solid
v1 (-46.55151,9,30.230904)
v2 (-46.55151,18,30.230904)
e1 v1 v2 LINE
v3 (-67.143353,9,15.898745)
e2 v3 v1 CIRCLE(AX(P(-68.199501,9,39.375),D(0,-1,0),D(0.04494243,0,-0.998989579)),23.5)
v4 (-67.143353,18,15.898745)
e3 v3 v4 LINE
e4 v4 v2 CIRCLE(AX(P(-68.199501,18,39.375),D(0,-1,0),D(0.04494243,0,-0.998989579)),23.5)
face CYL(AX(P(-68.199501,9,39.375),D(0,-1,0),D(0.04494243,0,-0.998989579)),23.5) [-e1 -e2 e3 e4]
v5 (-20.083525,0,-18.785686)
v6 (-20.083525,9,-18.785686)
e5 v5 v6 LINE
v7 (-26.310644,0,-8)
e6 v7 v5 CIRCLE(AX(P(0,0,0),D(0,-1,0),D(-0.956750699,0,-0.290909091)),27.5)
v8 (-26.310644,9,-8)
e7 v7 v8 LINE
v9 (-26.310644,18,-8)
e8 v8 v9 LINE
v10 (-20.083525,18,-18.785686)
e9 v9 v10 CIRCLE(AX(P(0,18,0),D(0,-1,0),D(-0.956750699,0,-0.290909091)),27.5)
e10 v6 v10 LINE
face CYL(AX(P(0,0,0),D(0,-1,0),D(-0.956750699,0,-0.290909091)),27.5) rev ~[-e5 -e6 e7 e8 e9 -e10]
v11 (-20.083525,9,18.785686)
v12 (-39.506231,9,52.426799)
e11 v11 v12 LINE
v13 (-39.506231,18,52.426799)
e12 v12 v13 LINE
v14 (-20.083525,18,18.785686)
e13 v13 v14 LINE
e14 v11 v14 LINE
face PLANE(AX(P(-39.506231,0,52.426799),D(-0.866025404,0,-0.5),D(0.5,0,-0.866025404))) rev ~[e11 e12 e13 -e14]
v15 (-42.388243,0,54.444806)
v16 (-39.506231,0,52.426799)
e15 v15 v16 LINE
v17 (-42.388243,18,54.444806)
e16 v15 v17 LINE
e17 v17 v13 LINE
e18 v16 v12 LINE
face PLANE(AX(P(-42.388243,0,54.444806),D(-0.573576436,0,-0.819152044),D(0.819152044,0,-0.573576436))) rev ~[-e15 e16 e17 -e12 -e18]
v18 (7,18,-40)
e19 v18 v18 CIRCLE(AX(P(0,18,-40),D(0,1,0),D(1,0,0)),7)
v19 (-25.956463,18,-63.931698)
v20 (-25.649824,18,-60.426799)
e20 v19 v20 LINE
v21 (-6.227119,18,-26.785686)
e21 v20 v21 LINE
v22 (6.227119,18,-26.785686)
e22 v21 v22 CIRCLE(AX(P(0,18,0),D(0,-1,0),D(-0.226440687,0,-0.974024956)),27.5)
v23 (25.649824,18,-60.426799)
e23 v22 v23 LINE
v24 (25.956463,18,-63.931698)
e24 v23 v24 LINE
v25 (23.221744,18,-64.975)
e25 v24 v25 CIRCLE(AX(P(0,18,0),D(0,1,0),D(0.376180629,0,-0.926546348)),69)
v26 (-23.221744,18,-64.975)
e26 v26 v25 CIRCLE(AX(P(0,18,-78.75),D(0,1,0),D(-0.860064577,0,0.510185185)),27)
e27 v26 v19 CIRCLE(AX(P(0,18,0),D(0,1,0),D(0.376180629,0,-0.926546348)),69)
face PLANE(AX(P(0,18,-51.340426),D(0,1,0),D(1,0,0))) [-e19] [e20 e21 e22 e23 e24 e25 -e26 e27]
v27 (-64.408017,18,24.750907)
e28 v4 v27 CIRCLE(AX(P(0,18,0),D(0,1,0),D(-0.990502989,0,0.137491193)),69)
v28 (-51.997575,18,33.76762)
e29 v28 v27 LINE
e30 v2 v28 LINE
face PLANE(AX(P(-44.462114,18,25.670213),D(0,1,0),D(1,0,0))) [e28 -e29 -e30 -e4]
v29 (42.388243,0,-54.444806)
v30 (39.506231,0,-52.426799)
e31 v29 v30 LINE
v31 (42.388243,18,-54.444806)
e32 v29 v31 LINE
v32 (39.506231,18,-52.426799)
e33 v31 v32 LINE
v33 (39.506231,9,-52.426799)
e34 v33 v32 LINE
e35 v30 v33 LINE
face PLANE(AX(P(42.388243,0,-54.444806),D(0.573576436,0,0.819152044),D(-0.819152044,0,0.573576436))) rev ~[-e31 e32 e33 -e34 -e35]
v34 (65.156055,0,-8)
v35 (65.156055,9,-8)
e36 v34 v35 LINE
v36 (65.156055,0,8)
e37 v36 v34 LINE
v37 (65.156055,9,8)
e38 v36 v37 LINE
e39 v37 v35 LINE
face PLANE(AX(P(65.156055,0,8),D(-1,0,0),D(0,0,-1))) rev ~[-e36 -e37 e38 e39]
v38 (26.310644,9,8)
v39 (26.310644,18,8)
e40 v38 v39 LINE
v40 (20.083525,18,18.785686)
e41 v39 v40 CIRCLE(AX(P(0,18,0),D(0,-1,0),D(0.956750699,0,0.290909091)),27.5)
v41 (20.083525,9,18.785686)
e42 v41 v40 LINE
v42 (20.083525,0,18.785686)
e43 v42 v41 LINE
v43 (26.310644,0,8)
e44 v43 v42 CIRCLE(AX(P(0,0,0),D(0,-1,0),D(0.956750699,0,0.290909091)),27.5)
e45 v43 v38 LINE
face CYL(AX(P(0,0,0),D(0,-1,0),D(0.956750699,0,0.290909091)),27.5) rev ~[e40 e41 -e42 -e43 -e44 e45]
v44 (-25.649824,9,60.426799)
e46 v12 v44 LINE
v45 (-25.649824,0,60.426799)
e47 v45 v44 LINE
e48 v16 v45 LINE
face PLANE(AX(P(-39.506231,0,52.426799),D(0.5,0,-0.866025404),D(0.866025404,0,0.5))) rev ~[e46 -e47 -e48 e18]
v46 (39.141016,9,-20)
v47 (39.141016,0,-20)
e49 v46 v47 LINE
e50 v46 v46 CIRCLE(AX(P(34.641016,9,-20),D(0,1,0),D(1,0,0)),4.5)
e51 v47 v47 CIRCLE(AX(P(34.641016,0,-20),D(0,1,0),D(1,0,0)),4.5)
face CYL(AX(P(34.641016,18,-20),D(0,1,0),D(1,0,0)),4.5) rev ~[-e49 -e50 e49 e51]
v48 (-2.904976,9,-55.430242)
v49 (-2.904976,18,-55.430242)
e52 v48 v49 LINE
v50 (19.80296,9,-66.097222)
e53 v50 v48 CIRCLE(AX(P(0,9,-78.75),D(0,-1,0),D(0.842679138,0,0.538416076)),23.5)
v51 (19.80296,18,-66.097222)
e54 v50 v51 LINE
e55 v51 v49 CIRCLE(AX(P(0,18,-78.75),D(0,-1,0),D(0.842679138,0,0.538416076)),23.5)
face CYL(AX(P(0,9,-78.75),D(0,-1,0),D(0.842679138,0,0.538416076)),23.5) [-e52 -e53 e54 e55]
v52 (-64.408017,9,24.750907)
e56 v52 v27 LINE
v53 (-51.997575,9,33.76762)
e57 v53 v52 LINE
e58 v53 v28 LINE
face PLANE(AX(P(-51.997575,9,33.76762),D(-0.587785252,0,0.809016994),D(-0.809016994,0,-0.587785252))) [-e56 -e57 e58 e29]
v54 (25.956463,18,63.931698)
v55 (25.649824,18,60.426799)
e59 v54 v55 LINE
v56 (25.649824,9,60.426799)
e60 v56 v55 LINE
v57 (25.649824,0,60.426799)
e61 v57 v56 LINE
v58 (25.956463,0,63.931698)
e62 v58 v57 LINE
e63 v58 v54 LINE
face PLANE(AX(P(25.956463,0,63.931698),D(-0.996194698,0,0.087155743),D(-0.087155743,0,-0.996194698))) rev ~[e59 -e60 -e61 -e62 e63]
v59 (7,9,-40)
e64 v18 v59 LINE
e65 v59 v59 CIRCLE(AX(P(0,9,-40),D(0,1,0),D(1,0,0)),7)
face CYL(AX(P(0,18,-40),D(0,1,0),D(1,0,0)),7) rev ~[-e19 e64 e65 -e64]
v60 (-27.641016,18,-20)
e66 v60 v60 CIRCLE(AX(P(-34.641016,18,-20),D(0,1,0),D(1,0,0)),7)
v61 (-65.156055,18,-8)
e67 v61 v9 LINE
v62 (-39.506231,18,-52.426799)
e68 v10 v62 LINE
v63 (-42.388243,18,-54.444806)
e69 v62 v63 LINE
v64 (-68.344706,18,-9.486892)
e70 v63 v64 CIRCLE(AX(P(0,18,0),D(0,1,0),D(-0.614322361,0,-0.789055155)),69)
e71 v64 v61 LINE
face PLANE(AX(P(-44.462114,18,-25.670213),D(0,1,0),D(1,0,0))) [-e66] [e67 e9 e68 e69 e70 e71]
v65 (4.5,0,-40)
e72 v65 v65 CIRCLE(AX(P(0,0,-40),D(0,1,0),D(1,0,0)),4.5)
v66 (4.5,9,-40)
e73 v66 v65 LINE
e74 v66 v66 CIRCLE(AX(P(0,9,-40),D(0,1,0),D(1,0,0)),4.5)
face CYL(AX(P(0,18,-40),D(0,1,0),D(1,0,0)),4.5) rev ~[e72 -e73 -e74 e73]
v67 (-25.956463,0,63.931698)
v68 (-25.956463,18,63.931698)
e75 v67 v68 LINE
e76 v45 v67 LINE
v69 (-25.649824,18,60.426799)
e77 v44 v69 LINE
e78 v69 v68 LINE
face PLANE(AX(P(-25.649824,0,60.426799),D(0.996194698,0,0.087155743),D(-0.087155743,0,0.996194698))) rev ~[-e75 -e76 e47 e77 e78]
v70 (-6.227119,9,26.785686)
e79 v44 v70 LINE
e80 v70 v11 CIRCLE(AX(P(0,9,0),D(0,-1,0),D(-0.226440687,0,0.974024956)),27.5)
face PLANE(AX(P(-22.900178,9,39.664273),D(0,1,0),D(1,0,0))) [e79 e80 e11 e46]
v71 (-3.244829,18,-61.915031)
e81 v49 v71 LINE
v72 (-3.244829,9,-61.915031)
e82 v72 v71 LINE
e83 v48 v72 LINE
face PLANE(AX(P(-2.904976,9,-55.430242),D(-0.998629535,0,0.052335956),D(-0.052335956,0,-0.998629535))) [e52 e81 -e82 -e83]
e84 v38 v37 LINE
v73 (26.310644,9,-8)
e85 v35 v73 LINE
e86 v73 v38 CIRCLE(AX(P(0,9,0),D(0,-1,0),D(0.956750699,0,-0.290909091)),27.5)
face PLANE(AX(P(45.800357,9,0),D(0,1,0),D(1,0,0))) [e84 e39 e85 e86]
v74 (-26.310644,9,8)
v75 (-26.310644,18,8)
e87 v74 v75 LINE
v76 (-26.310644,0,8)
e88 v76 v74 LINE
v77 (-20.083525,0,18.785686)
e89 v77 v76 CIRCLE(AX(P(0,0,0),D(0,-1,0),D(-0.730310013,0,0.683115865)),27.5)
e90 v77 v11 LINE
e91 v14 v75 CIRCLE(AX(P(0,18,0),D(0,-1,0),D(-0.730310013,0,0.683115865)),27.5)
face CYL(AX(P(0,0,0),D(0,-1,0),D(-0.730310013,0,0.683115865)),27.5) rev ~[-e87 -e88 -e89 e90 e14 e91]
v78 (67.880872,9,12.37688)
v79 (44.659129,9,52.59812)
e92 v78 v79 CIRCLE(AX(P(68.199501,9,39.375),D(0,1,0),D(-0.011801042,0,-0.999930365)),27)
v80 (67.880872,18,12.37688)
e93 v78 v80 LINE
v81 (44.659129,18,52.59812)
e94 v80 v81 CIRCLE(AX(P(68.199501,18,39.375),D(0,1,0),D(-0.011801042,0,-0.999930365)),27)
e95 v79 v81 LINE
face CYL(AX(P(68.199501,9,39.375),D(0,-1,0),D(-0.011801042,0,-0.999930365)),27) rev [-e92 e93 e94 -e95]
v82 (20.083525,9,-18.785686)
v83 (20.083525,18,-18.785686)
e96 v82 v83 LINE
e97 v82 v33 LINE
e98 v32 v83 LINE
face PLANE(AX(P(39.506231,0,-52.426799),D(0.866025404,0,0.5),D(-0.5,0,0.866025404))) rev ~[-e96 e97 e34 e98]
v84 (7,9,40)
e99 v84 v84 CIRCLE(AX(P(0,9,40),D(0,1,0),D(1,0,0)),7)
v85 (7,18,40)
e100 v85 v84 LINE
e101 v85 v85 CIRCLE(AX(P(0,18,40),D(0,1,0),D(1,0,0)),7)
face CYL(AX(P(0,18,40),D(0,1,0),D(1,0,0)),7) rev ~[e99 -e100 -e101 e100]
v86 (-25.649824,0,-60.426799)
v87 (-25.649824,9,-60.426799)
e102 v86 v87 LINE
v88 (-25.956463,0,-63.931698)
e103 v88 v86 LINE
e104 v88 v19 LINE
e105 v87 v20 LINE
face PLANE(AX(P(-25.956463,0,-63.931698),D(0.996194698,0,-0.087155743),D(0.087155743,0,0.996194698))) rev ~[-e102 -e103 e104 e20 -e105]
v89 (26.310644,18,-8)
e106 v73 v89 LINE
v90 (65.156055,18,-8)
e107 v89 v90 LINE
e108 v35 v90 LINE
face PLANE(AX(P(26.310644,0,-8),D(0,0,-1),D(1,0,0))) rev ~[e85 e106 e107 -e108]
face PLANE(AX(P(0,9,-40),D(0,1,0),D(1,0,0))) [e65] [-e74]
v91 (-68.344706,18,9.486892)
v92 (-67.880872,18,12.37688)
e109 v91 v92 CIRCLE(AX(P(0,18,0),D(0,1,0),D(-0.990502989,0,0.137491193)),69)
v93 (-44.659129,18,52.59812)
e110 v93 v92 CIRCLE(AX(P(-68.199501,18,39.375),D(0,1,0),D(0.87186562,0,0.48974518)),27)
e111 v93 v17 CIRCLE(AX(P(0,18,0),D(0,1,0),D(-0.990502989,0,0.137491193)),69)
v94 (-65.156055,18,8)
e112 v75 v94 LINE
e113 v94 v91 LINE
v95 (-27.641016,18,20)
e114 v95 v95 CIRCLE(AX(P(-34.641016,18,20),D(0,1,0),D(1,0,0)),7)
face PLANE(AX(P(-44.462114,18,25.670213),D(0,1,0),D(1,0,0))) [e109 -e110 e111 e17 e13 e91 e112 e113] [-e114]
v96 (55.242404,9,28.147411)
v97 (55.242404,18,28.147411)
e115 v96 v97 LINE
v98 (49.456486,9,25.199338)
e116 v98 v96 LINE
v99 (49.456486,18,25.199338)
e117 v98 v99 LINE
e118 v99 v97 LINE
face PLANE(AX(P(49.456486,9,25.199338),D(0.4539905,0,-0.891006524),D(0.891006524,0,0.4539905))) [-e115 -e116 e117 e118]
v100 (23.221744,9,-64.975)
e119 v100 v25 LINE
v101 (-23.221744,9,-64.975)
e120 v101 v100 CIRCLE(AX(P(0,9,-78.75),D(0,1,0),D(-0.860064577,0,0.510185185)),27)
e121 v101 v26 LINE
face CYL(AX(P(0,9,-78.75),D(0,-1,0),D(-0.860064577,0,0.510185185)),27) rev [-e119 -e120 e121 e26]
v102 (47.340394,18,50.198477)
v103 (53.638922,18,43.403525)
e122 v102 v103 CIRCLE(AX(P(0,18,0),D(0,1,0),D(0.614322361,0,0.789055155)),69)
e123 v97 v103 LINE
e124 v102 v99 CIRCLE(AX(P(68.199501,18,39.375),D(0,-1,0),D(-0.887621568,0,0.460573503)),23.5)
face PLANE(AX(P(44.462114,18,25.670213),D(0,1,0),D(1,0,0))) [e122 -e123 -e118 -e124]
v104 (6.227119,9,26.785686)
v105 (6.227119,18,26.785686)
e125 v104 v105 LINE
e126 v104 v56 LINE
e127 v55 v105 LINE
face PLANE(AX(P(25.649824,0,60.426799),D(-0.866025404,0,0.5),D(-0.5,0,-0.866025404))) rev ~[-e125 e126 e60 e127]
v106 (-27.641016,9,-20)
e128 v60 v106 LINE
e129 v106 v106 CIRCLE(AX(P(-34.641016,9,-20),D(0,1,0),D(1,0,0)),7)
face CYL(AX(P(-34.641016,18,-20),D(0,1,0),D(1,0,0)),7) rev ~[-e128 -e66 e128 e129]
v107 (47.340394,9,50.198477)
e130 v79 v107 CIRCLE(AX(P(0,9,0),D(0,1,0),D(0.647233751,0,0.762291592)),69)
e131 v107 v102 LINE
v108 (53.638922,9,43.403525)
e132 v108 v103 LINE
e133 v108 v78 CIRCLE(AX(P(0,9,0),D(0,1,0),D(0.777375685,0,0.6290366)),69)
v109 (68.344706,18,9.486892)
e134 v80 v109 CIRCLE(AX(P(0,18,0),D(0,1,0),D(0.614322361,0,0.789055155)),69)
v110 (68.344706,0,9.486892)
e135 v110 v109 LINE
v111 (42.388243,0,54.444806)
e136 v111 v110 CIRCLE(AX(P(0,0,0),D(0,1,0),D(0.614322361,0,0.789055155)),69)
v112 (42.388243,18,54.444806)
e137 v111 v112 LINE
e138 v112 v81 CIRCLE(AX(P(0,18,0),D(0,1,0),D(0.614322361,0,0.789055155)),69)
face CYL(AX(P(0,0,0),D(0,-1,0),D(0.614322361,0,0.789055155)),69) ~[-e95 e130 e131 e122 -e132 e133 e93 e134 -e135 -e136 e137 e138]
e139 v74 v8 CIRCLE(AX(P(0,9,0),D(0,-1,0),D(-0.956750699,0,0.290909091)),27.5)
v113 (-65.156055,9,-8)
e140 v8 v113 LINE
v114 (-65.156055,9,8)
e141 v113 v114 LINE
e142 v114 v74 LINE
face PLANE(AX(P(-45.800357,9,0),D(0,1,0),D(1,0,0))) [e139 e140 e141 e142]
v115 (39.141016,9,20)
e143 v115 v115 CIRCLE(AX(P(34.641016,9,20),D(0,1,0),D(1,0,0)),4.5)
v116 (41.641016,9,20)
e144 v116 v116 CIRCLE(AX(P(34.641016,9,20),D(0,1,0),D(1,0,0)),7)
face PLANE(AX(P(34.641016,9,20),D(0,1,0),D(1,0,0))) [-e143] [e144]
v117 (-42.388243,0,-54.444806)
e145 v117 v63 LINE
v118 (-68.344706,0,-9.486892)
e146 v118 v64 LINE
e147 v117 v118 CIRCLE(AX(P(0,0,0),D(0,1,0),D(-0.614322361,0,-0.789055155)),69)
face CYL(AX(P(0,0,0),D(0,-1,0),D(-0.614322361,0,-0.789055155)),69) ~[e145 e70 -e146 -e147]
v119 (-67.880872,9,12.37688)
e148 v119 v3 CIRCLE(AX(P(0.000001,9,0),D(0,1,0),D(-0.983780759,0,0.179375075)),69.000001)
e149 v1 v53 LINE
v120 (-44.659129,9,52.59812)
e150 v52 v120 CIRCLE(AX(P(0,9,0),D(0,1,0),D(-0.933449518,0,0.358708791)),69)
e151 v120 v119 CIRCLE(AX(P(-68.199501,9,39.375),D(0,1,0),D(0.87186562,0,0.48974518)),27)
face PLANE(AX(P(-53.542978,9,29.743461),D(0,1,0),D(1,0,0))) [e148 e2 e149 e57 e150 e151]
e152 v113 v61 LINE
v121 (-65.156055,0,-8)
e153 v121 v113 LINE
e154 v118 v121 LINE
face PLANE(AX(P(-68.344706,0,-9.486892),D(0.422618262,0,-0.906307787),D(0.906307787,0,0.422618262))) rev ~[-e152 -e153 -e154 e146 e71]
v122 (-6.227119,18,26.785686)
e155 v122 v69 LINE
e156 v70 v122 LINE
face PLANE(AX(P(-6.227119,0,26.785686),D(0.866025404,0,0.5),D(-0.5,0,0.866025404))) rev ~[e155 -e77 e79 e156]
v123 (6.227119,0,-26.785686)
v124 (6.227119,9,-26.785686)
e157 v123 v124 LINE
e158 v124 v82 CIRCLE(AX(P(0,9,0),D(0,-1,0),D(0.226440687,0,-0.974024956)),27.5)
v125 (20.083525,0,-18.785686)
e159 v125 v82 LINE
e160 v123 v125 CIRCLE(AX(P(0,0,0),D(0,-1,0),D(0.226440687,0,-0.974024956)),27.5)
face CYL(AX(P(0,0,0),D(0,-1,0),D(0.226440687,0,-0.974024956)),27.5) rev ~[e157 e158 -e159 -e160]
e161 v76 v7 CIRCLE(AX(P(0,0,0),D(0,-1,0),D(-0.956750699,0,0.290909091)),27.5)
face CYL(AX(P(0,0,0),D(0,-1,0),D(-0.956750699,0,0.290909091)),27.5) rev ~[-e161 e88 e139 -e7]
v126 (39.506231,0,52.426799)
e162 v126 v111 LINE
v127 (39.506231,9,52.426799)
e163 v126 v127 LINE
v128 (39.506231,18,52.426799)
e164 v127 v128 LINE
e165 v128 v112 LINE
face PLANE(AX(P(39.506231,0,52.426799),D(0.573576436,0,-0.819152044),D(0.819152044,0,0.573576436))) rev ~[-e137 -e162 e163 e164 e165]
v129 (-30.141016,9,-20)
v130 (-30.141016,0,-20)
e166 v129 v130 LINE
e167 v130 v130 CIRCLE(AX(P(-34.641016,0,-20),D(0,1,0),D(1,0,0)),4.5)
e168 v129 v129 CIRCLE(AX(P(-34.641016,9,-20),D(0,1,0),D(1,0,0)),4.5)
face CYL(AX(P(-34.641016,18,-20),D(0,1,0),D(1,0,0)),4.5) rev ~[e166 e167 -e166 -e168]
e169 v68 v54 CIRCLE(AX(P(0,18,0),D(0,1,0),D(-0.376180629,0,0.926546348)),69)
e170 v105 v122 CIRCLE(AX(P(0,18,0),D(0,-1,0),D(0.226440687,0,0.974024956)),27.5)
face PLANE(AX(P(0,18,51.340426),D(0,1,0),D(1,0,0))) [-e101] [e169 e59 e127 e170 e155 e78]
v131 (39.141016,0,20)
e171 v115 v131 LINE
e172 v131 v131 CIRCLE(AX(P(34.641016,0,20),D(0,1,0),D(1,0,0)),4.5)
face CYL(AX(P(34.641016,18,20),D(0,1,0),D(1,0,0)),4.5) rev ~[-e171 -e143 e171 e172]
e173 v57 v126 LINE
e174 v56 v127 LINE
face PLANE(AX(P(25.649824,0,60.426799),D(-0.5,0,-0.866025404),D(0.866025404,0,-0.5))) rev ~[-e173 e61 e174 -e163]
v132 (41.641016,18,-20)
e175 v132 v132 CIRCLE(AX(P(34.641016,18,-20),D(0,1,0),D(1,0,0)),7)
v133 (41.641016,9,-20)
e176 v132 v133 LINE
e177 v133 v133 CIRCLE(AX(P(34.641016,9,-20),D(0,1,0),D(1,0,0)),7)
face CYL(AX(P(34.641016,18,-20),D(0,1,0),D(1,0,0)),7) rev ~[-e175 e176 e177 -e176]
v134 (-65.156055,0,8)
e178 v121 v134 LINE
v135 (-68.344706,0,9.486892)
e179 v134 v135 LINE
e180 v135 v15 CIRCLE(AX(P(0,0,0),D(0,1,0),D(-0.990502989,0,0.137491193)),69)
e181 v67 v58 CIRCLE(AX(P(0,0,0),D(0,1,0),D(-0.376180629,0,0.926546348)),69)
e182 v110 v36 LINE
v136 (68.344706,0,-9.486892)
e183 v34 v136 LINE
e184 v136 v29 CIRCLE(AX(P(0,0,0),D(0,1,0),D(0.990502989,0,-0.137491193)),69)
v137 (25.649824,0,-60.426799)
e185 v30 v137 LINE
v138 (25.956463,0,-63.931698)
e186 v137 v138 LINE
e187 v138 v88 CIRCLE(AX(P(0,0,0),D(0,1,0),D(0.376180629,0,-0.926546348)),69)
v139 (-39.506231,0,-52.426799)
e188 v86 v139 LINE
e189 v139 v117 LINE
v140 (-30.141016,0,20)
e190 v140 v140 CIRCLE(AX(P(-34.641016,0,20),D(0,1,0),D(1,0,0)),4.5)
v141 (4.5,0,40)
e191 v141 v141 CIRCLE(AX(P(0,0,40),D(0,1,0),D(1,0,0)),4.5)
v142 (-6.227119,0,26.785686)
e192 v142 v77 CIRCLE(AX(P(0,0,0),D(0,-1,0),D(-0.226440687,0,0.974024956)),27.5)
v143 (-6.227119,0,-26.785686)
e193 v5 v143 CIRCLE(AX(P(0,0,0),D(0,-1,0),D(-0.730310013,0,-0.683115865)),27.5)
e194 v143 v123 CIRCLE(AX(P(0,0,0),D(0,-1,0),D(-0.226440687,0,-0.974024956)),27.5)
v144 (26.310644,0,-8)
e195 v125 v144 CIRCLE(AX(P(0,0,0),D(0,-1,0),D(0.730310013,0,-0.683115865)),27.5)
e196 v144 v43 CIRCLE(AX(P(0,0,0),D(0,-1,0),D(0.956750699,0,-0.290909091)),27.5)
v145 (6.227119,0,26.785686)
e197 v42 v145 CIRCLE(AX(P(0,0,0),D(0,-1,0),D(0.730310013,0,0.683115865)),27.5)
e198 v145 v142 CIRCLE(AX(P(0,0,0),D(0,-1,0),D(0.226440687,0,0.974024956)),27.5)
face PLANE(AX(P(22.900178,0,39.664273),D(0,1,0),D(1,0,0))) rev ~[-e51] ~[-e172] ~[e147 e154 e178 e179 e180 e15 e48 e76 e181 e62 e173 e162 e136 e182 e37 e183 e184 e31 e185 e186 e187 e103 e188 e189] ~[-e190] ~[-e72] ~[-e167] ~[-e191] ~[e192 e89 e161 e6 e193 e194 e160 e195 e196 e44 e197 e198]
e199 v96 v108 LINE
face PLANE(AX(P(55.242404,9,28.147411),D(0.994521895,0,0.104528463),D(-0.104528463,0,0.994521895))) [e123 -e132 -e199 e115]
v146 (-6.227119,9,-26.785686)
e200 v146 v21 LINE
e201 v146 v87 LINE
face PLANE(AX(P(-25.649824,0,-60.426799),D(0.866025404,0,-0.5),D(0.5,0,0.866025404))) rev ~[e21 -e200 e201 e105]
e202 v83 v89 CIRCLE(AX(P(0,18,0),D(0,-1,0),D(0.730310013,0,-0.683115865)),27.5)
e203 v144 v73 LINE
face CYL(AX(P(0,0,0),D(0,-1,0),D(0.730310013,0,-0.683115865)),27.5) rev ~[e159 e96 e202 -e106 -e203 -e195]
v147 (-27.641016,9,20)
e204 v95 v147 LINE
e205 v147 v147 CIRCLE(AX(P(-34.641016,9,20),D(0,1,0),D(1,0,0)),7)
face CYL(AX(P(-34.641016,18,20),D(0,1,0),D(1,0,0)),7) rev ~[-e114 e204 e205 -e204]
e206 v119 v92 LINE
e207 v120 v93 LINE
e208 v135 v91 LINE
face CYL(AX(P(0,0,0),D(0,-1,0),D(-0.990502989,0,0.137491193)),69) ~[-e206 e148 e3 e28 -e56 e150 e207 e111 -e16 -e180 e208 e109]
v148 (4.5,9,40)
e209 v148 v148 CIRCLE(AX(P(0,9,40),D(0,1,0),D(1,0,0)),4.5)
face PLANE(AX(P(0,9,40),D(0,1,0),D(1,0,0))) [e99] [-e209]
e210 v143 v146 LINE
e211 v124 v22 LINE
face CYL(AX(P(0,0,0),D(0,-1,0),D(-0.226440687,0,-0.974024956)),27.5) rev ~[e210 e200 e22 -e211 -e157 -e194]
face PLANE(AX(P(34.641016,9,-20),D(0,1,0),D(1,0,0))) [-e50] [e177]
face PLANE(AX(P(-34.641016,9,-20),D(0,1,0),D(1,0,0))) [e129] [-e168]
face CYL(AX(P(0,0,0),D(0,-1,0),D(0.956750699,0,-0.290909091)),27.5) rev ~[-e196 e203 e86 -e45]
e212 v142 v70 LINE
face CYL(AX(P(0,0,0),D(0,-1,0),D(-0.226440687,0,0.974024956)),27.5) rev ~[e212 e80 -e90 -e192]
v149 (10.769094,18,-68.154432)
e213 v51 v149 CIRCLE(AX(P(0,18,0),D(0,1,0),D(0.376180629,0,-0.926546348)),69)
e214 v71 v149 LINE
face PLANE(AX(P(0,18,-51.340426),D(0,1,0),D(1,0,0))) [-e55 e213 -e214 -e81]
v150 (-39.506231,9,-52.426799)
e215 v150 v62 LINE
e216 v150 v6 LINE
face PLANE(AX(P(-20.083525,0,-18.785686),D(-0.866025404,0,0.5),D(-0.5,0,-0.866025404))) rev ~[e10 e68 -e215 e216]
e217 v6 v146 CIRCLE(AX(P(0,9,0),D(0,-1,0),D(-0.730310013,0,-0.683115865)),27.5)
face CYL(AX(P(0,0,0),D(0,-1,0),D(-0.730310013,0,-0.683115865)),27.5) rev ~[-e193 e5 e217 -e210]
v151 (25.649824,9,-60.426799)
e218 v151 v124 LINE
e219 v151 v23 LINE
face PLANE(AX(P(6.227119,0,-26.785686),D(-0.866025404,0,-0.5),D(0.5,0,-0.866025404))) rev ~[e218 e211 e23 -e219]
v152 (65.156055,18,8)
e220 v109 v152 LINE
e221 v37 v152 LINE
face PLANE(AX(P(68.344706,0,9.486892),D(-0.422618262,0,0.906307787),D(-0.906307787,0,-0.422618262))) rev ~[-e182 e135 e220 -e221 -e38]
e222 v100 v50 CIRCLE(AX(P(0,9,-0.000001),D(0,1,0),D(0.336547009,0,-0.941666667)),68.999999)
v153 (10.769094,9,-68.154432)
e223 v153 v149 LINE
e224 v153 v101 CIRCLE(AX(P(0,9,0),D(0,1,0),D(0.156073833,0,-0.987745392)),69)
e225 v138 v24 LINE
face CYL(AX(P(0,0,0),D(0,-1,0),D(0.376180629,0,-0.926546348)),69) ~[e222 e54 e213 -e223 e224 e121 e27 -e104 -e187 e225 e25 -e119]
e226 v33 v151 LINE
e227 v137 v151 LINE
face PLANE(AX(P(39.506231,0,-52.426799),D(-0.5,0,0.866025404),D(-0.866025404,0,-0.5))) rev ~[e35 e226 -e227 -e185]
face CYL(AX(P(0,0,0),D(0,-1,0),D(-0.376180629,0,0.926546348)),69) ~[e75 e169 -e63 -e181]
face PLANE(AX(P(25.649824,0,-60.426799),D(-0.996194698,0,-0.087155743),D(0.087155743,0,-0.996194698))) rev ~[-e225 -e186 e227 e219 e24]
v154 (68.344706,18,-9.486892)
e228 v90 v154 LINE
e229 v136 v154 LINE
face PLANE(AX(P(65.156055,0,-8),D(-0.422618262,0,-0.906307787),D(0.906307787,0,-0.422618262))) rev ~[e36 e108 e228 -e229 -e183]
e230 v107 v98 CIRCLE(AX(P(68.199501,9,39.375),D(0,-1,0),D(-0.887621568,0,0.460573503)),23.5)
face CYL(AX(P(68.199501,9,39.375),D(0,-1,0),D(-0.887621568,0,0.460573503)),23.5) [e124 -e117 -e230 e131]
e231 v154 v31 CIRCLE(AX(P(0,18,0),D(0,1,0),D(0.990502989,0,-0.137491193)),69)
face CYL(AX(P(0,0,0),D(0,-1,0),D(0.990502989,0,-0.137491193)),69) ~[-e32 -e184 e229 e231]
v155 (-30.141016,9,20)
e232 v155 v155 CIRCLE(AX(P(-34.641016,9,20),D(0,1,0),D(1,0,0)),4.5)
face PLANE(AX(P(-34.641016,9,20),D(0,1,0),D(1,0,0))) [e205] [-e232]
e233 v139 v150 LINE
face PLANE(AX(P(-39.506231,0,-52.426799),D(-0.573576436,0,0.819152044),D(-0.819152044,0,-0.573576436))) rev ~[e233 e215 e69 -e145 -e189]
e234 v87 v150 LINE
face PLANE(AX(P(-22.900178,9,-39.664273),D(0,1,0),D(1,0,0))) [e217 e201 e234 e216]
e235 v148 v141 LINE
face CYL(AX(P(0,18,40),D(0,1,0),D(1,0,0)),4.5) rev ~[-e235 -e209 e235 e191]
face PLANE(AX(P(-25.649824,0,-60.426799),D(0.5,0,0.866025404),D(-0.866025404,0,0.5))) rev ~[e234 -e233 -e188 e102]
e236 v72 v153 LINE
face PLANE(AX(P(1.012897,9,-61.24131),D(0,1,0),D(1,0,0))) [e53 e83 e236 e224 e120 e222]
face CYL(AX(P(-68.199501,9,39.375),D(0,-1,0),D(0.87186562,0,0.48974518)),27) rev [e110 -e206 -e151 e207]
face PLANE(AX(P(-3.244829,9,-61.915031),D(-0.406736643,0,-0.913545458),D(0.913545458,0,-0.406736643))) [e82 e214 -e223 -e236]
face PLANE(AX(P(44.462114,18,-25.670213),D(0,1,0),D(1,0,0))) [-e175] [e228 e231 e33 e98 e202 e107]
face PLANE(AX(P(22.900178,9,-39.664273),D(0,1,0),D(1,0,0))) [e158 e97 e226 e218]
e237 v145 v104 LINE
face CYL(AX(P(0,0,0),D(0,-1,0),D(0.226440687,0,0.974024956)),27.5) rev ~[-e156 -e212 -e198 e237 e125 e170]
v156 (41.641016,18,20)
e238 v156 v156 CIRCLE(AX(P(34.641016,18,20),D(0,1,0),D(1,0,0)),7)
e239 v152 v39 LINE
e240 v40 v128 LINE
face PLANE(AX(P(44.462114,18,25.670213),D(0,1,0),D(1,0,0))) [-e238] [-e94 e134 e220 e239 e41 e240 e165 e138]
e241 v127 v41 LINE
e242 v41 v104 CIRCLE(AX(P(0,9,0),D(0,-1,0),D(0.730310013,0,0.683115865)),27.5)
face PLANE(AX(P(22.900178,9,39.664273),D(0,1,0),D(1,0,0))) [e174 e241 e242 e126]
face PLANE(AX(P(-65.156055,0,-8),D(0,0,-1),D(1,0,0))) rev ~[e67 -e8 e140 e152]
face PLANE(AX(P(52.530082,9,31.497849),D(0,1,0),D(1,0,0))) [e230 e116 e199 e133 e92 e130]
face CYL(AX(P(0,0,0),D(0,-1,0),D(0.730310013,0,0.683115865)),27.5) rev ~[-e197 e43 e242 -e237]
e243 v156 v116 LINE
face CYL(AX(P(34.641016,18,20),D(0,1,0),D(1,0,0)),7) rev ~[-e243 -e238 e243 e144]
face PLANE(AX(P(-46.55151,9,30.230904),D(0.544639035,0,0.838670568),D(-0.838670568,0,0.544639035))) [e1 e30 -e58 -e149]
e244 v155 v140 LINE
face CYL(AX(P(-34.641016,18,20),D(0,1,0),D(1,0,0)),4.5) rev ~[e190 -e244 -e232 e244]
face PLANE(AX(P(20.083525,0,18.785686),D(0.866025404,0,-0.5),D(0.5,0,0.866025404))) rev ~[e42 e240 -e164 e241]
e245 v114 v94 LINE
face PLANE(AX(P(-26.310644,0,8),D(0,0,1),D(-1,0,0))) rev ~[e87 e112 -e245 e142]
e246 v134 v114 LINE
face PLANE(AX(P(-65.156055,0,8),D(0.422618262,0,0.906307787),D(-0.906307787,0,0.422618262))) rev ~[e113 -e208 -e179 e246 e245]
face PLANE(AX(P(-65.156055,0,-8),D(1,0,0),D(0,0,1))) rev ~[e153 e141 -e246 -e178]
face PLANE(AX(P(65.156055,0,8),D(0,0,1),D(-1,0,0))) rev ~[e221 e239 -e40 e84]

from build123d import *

# Parameters (mm, degrees)
BOSS_EXTRUDE2_DEPTH   = 18
BOSS_EXTRUDE2_2_DEPTH = 18
BOSS_EXTRUDE2_3_DEPTH = 18
BOSS_EXTRUDE2_4_DEPTH = 18
BOSS_EXTRUDE2_5_DEPTH = 18
BOSS_EXTRUDE2_6_DEPTH = 18
BOSS_EXTRUDE3_DEPTH   = 9
SKETCH2_R             = 7
SKETCH2_R_2           = 4.5
CUT_EXTRUDE1_DEPTH    = 9
SKETCH2_3_R           = 4.5
CUT_EXTRUDE2_DEPTH    = 18
CUT_EXTRUDE3_START    = -9
CUT_EXTRUDE3_DEPTH    = 9


with BuildPart() as part:
    # Sketch1 → Boss-Extrude2 (new body)
    with BuildSketch(Plane(origin=(0, 0, 0), x_dir=(1, 0, 0), z_dir=(0, 1, 0))):
        with BuildLine():
            ThreePointArc((26.310644234, -8), (23.815698604, -13.75), (20.083525347, -18.785686296))
            Line((20.083525347, -18.785686296), (39.506230912, -52.426799156))
            Line((39.506230912, -52.426799156), (42.388242893, -54.44480567))
            ThreePointArc((42.388242893, -54.44480567), (59.755752861, -34.5), (68.344706261, -9.486892332))
            Line((68.344706261, -9.486892332), (65.156055364, -8))
            Line((65.156055364, -8), (26.310644234, -8))
        make_face()
    extrude(amount=BOSS_EXTRUDE2_DEPTH)



with BuildPart() as body_2:
    # Sketch1 → Boss-Extrude2 2 (new body)
    with BuildSketch(Plane(origin=(0, 0, 0), x_dir=(1, 0, 0), z_dir=(0, 1, 0))):
        with BuildLine():
            Line((25.649824452, -60.426799156), (6.227118887, -26.785686296))
            ThreePointArc((6.227118887, -26.785686296), (0, -27.5), (-6.227118887, -26.785686296))
            Line((-6.227118887, -26.785686296), (-25.649824452, -60.426799156))
            Line((-25.649824452, -60.426799156), (-25.956463368, -63.931698002))
            ThreePointArc((-25.956463368, -63.931698002), (0, -69), (25.956463368, -63.931698002))
            Line((25.956463368, -63.931698002), (25.649824452, -60.426799156))
        make_face()
    extrude(amount=BOSS_EXTRUDE2_2_DEPTH)


with BuildPart() as body_3:
    # Sketch1 → Boss-Extrude2 3 (new body)
    with BuildSketch(Plane(origin=(0, 0, 0), x_dir=(1, 0, 0), z_dir=(0, 1, 0))):
        with BuildLine():
            Line((-39.506230912, -52.426799156), (-20.083525347, -18.785686296))
            ThreePointArc((-20.083525347, -18.785686296), (-23.815698604, -13.75), (-26.310644234, -8))
            Line((-26.310644234, -8), (-65.156055364, -8))
            Line((-65.156055364, -8), (-68.344706261, -9.486892332))
            ThreePointArc((-68.344706261, -9.486892332), (-59.755752861, -34.5), (-42.388242893, -54.44480567))
            Line((-42.388242893, -54.44480567), (-39.506230912, -52.426799156))
        make_face()
    extrude(amount=BOSS_EXTRUDE2_3_DEPTH)


with BuildPart() as body_4:
    # Sketch1 → Boss-Extrude2 4 (new body)
    with BuildSketch(Plane(origin=(0, 0, 0), x_dir=(1, 0, 0), z_dir=(0, 1, 0))):
        with BuildLine():
            Line((26.310644234, 8), (65.156055364, 8))
            Line((65.156055364, 8), (68.344706261, 9.486892332))
            ThreePointArc((68.344706261, 9.486892332), (59.755752861, 34.5), (42.388242893, 54.44480567))
            Line((42.388242893, 54.44480567), (39.506230912, 52.426799156))
            Line((39.506230912, 52.426799156), (20.083525347, 18.785686296))
            ThreePointArc((20.083525347, 18.785686296), (23.815698604, 13.75), (26.310644234, 8))
        make_face()
    extrude(amount=BOSS_EXTRUDE2_4_DEPTH)


with BuildPart() as body_5:
    # Sketch1 → Boss-Extrude2 5 (new body)
    with BuildSketch(Plane(origin=(0, 0, 0), x_dir=(1, 0, 0), z_dir=(0, 1, 0))):
        with BuildLine():
            Line((-65.156055364, 8), (-26.310644234, 8))
            ThreePointArc((-26.310644234, 8), (-23.815698604, 13.75), (-20.083525347, 18.785686296))
            Line((-20.083525347, 18.785686296), (-39.506230912, 52.426799156))
            Line((-39.506230912, 52.426799156), (-42.388242893, 54.44480567))
            ThreePointArc((-42.388242893, 54.44480567), (-59.755752861, 34.5), (-68.344706261, 9.486892332))
            Line((-68.344706261, 9.486892332), (-65.156055364, 8))
        make_face()
    extrude(amount=BOSS_EXTRUDE2_5_DEPTH)


with BuildPart() as body_6:
    # Sketch1 → Boss-Extrude2 6 (new body)
    with BuildSketch(Plane(origin=(0, 0, 0), x_dir=(1, 0, 0), z_dir=(0, 1, 0))):
        with BuildLine():
            ThreePointArc((-6.227118887, 26.785686296), (0, 27.5), (6.227118887, 26.785686296))
            Line((6.227118887, 26.785686296), (25.649824452, 60.426799156))
            Line((25.649824452, 60.426799156), (25.956463368, 63.931698002))
            ThreePointArc((25.956463368, 63.931698002), (0, 69), (-25.956463368, 63.931698002))
            Line((-25.956463368, 63.931698002), (-25.649824452, 60.426799156))
            Line((-25.649824452, 60.426799156), (-6.227118887, 26.785686296))
        make_face()
    extrude(amount=BOSS_EXTRUDE2_6_DEPTH)


with BuildPart() as part_1:
    add(part.part)

    add(body_2.part)  # Boss-Extrude3 merges body 2

    add(body_3.part)  # Boss-Extrude3 merges body 3

    add(body_4.part)  # Boss-Extrude3 merges body 4

    add(body_5.part)  # Boss-Extrude3 merges body 5

    add(body_6.part)  # Boss-Extrude3 merges body 6
    # Sketch1<3> → Boss-Extrude3 (add)
    with BuildSketch(Plane(origin=(0, 0, 0), x_dir=(1, 0, 0), z_dir=(0, 1, 0))):
        with BuildLine():
            Line((39.506230912, -52.426799156), (20.083525347, -18.785686296))
            ThreePointArc((20.083525347, -18.785686296), (13.75, -23.815698604), (6.227118887, -26.785686296))
            Line((6.227118887, -26.785686296), (25.649824452, -60.426799156))
            Line((25.649824452, -60.426799156), (39.506230912, -52.426799156))
        make_face()
        with BuildLine():
            ThreePointArc((26.310644234, 8), (27.5, 0), (26.310644234, -8))
            Line((26.310644234, -8), (65.156055364, -8))
            Line((65.156055364, -8), (65.156055364, 8))
            Line((65.156055364, 8), (26.310644234, 8))
        make_face()
        with BuildLine():
            Line((-25.649824452, -60.426799156), (-6.227118887, -26.785686296))
            ThreePointArc((-6.227118887, -26.785686296), (-13.75, -23.815698604), (-20.083525347, -18.785686296))
            Line((-20.083525347, -18.785686296), (-39.506230912, -52.426799156))
            Line((-39.506230912, -52.426799156), (-25.649824452, -60.426799156))
        make_face()
        with BuildLine():
            Line((-65.156055364, -8), (-26.310644234, -8))
            ThreePointArc((-26.310644234, -8), (-27.5, 0), (-26.310644234, 8))
            Line((-26.310644234, 8), (-65.156055364, 8))
            Line((-65.156055364, 8), (-65.156055364, -8))
        make_face()
        with BuildLine():
            ThreePointArc((6.227118887, 26.785686296), (13.75, 23.815698604), (20.083525347, 18.785686296))
            Line((20.083525347, 18.785686296), (39.506230912, 52.426799156))
            Line((39.506230912, 52.426799156), (25.649824452, 60.426799156))
            Line((25.649824452, 60.426799156), (6.227118887, 26.785686296))
        make_face()
        with BuildLine():
            Line((-39.506230912, 52.426799156), (-20.083525347, 18.785686296))
            ThreePointArc((-20.083525347, 18.785686296), (-13.75, 23.815698604), (-6.227118887, 26.785686296))
            Line((-6.227118887, 26.785686296), (-25.649824452, 60.426799156))
            Line((-25.649824452, 60.426799156), (-39.506230912, 52.426799156))
        make_face()
    extrude(amount=BOSS_EXTRUDE3_DEPTH)

    # Sketch2 → Cut-Extrude1 (cut)
    # profile 1 of 6: a face of its own
    with BuildSketch(Plane(origin=(0, 18, 0), x_dir=(1, 0, 0), z_dir=(0, 1, 0))):
        with Locations((0, 40)):
            Circle(SKETCH2_R)
        with Locations((0, 40)):
            Circle(SKETCH2_R_2, mode=Mode.SUBTRACT)
    # profile 2 of 6: a face of its own
    with BuildSketch(Plane(origin=(0, 18, 0), x_dir=(1, 0, 0), z_dir=(0, 1, 0))):
        with Locations((34.641016151, 20)):
            Circle(SKETCH2_R)
        with Locations((34.641016151, 20)):
            Circle(SKETCH2_R_2, mode=Mode.SUBTRACT)
    # profile 3 of 6: a face of its own
    with BuildSketch(Plane(origin=(0, 18, 0), x_dir=(1, 0, 0), z_dir=(0, 1, 0))):
        with Locations((34.641016151, -20)):
            Circle(SKETCH2_R)
        with Locations((34.641016151, -20)):
            Circle(SKETCH2_R_2, mode=Mode.SUBTRACT)
    # profile 4 of 6: a face of its own
    with BuildSketch(Plane(origin=(0, 18, 0), x_dir=(1, 0, 0), z_dir=(0, 1, 0))):
        with Locations((0, -40)):
            Circle(SKETCH2_R)
        with Locations((0, -40)):
            Circle(SKETCH2_R_2, mode=Mode.SUBTRACT)
    # profile 5 of 6: a face of its own
    with BuildSketch(Plane(origin=(0, 18, 0), x_dir=(1, 0, 0), z_dir=(0, 1, 0))):
        with Locations((-34.641016151, -20)):
            Circle(SKETCH2_R)
        with Locations((-34.641016151, -20)):
            Circle(SKETCH2_R_2, mode=Mode.SUBTRACT)
    # profile 6 of 6: a face of its own
    with BuildSketch(Plane(origin=(0, 18, 0), x_dir=(1, 0, 0), z_dir=(0, 1, 0))):
        with Locations((-34.641016151, 20)):
            Circle(SKETCH2_R)
        with Locations((-34.641016151, 20)):
            Circle(SKETCH2_R_2, mode=Mode.SUBTRACT)
    extrude(amount=-CUT_EXTRUDE1_DEPTH, mode=Mode.SUBTRACT)

    # Sketch2<3> → Cut-Extrude2 (cut)
    with BuildSketch(Plane(origin=(0, 18, 0), x_dir=(1, 0, 0), z_dir=(0, 1, 0))):
        with Locations((0, 40)):
            Circle(SKETCH2_3_R)
        with Locations((34.641016151, 20)):
            Circle(SKETCH2_3_R)
        with Locations((34.641016151, -20)):
            Circle(SKETCH2_3_R)
        with Locations((0, -40)):
            Circle(SKETCH2_3_R)
        with Locations((-34.641016151, -20)):
            Circle(SKETCH2_3_R)
        with Locations((-34.641016151, 20)):
            Circle(SKETCH2_3_R)
    extrude(amount=-CUT_EXTRUDE2_DEPTH, mode=Mode.SUBTRACT)

    # Sketch6 → Cut-Extrude3 (cut)
    with BuildSketch(Plane(origin=(0, 18, 0), x_dir=(1, 0, 0), z_dir=(0, 1, 0)).offset(CUT_EXTRUDE3_START)):
        with BuildLine():
            Line((-46.551509731, -30.230903894), (-51.997575213, -33.767620171))
            Line((-51.997575213, -33.767620171), (-64.408016757, -24.750906597))
            ThreePointArc((-64.408016757, -24.750906597), (-56.283011493, -39.915192813), (-44.65912882, -52.598119862))
            ThreePointArc((-44.65912882, -52.598119862), (-44.816814646, -25.875), (-67.880872402, -12.376880138))
            ThreePointArc((-67.880872402, -12.376880138), (-67.535074395, -14.142620919), (-67.143353435, -15.898744905))
            ThreePointArc((-67.143353435, -15.898744905), (-54.774815631, -20.086976906), (-46.551509731, -30.230903894))
        make_face()
        with BuildLine():
            Line((-2.904975886, 55.430241959), (-3.244829287, 61.915031155))
            Line((-3.244829287, 61.915031155), (10.769094499, 68.154432018))
            ThreePointArc((10.769094499, 68.154432018), (-6.426065226, 68.700114161), (-23.221743582, 64.975))
            ThreePointArc((-23.221743582, 64.975), (0, 51.75), (23.221743582, 64.975))
            ThreePointArc((23.221743582, 64.975), (21.519668206, 65.558400532), (19.802959741, 66.097222222))
            ThreePointArc((19.802959741, 66.097222222), (9.99157553, 57.479870277), (-2.904975886, 55.430241959))
        make_face()
        with BuildLine():
            Line((49.456485617, -25.199338065), (55.2424045, -28.147410984))
            Line((55.2424045, -28.147410984), (53.638922259, -43.40352542))
            ThreePointArc((53.638922259, -43.40352542), (62.709076719, -28.784921348), (67.880872402, -12.376880138))
            ThreePointArc((67.880872402, -12.376880138), (44.816814646, -25.875), (44.65912882, -52.598119862))
            ThreePointArc((44.65912882, -52.598119862), (46.015406189, -51.415779613), (47.340393693, -50.198477317))
            ThreePointArc((47.340393693, -50.198477317), (44.783240101, -37.392893372), (49.456485617, -25.199338065))
        make_face()
    extrude(amount=CUT_EXTRUDE3_DEPTH, mode=Mode.SUBTRACT)


solid = part_1.part
